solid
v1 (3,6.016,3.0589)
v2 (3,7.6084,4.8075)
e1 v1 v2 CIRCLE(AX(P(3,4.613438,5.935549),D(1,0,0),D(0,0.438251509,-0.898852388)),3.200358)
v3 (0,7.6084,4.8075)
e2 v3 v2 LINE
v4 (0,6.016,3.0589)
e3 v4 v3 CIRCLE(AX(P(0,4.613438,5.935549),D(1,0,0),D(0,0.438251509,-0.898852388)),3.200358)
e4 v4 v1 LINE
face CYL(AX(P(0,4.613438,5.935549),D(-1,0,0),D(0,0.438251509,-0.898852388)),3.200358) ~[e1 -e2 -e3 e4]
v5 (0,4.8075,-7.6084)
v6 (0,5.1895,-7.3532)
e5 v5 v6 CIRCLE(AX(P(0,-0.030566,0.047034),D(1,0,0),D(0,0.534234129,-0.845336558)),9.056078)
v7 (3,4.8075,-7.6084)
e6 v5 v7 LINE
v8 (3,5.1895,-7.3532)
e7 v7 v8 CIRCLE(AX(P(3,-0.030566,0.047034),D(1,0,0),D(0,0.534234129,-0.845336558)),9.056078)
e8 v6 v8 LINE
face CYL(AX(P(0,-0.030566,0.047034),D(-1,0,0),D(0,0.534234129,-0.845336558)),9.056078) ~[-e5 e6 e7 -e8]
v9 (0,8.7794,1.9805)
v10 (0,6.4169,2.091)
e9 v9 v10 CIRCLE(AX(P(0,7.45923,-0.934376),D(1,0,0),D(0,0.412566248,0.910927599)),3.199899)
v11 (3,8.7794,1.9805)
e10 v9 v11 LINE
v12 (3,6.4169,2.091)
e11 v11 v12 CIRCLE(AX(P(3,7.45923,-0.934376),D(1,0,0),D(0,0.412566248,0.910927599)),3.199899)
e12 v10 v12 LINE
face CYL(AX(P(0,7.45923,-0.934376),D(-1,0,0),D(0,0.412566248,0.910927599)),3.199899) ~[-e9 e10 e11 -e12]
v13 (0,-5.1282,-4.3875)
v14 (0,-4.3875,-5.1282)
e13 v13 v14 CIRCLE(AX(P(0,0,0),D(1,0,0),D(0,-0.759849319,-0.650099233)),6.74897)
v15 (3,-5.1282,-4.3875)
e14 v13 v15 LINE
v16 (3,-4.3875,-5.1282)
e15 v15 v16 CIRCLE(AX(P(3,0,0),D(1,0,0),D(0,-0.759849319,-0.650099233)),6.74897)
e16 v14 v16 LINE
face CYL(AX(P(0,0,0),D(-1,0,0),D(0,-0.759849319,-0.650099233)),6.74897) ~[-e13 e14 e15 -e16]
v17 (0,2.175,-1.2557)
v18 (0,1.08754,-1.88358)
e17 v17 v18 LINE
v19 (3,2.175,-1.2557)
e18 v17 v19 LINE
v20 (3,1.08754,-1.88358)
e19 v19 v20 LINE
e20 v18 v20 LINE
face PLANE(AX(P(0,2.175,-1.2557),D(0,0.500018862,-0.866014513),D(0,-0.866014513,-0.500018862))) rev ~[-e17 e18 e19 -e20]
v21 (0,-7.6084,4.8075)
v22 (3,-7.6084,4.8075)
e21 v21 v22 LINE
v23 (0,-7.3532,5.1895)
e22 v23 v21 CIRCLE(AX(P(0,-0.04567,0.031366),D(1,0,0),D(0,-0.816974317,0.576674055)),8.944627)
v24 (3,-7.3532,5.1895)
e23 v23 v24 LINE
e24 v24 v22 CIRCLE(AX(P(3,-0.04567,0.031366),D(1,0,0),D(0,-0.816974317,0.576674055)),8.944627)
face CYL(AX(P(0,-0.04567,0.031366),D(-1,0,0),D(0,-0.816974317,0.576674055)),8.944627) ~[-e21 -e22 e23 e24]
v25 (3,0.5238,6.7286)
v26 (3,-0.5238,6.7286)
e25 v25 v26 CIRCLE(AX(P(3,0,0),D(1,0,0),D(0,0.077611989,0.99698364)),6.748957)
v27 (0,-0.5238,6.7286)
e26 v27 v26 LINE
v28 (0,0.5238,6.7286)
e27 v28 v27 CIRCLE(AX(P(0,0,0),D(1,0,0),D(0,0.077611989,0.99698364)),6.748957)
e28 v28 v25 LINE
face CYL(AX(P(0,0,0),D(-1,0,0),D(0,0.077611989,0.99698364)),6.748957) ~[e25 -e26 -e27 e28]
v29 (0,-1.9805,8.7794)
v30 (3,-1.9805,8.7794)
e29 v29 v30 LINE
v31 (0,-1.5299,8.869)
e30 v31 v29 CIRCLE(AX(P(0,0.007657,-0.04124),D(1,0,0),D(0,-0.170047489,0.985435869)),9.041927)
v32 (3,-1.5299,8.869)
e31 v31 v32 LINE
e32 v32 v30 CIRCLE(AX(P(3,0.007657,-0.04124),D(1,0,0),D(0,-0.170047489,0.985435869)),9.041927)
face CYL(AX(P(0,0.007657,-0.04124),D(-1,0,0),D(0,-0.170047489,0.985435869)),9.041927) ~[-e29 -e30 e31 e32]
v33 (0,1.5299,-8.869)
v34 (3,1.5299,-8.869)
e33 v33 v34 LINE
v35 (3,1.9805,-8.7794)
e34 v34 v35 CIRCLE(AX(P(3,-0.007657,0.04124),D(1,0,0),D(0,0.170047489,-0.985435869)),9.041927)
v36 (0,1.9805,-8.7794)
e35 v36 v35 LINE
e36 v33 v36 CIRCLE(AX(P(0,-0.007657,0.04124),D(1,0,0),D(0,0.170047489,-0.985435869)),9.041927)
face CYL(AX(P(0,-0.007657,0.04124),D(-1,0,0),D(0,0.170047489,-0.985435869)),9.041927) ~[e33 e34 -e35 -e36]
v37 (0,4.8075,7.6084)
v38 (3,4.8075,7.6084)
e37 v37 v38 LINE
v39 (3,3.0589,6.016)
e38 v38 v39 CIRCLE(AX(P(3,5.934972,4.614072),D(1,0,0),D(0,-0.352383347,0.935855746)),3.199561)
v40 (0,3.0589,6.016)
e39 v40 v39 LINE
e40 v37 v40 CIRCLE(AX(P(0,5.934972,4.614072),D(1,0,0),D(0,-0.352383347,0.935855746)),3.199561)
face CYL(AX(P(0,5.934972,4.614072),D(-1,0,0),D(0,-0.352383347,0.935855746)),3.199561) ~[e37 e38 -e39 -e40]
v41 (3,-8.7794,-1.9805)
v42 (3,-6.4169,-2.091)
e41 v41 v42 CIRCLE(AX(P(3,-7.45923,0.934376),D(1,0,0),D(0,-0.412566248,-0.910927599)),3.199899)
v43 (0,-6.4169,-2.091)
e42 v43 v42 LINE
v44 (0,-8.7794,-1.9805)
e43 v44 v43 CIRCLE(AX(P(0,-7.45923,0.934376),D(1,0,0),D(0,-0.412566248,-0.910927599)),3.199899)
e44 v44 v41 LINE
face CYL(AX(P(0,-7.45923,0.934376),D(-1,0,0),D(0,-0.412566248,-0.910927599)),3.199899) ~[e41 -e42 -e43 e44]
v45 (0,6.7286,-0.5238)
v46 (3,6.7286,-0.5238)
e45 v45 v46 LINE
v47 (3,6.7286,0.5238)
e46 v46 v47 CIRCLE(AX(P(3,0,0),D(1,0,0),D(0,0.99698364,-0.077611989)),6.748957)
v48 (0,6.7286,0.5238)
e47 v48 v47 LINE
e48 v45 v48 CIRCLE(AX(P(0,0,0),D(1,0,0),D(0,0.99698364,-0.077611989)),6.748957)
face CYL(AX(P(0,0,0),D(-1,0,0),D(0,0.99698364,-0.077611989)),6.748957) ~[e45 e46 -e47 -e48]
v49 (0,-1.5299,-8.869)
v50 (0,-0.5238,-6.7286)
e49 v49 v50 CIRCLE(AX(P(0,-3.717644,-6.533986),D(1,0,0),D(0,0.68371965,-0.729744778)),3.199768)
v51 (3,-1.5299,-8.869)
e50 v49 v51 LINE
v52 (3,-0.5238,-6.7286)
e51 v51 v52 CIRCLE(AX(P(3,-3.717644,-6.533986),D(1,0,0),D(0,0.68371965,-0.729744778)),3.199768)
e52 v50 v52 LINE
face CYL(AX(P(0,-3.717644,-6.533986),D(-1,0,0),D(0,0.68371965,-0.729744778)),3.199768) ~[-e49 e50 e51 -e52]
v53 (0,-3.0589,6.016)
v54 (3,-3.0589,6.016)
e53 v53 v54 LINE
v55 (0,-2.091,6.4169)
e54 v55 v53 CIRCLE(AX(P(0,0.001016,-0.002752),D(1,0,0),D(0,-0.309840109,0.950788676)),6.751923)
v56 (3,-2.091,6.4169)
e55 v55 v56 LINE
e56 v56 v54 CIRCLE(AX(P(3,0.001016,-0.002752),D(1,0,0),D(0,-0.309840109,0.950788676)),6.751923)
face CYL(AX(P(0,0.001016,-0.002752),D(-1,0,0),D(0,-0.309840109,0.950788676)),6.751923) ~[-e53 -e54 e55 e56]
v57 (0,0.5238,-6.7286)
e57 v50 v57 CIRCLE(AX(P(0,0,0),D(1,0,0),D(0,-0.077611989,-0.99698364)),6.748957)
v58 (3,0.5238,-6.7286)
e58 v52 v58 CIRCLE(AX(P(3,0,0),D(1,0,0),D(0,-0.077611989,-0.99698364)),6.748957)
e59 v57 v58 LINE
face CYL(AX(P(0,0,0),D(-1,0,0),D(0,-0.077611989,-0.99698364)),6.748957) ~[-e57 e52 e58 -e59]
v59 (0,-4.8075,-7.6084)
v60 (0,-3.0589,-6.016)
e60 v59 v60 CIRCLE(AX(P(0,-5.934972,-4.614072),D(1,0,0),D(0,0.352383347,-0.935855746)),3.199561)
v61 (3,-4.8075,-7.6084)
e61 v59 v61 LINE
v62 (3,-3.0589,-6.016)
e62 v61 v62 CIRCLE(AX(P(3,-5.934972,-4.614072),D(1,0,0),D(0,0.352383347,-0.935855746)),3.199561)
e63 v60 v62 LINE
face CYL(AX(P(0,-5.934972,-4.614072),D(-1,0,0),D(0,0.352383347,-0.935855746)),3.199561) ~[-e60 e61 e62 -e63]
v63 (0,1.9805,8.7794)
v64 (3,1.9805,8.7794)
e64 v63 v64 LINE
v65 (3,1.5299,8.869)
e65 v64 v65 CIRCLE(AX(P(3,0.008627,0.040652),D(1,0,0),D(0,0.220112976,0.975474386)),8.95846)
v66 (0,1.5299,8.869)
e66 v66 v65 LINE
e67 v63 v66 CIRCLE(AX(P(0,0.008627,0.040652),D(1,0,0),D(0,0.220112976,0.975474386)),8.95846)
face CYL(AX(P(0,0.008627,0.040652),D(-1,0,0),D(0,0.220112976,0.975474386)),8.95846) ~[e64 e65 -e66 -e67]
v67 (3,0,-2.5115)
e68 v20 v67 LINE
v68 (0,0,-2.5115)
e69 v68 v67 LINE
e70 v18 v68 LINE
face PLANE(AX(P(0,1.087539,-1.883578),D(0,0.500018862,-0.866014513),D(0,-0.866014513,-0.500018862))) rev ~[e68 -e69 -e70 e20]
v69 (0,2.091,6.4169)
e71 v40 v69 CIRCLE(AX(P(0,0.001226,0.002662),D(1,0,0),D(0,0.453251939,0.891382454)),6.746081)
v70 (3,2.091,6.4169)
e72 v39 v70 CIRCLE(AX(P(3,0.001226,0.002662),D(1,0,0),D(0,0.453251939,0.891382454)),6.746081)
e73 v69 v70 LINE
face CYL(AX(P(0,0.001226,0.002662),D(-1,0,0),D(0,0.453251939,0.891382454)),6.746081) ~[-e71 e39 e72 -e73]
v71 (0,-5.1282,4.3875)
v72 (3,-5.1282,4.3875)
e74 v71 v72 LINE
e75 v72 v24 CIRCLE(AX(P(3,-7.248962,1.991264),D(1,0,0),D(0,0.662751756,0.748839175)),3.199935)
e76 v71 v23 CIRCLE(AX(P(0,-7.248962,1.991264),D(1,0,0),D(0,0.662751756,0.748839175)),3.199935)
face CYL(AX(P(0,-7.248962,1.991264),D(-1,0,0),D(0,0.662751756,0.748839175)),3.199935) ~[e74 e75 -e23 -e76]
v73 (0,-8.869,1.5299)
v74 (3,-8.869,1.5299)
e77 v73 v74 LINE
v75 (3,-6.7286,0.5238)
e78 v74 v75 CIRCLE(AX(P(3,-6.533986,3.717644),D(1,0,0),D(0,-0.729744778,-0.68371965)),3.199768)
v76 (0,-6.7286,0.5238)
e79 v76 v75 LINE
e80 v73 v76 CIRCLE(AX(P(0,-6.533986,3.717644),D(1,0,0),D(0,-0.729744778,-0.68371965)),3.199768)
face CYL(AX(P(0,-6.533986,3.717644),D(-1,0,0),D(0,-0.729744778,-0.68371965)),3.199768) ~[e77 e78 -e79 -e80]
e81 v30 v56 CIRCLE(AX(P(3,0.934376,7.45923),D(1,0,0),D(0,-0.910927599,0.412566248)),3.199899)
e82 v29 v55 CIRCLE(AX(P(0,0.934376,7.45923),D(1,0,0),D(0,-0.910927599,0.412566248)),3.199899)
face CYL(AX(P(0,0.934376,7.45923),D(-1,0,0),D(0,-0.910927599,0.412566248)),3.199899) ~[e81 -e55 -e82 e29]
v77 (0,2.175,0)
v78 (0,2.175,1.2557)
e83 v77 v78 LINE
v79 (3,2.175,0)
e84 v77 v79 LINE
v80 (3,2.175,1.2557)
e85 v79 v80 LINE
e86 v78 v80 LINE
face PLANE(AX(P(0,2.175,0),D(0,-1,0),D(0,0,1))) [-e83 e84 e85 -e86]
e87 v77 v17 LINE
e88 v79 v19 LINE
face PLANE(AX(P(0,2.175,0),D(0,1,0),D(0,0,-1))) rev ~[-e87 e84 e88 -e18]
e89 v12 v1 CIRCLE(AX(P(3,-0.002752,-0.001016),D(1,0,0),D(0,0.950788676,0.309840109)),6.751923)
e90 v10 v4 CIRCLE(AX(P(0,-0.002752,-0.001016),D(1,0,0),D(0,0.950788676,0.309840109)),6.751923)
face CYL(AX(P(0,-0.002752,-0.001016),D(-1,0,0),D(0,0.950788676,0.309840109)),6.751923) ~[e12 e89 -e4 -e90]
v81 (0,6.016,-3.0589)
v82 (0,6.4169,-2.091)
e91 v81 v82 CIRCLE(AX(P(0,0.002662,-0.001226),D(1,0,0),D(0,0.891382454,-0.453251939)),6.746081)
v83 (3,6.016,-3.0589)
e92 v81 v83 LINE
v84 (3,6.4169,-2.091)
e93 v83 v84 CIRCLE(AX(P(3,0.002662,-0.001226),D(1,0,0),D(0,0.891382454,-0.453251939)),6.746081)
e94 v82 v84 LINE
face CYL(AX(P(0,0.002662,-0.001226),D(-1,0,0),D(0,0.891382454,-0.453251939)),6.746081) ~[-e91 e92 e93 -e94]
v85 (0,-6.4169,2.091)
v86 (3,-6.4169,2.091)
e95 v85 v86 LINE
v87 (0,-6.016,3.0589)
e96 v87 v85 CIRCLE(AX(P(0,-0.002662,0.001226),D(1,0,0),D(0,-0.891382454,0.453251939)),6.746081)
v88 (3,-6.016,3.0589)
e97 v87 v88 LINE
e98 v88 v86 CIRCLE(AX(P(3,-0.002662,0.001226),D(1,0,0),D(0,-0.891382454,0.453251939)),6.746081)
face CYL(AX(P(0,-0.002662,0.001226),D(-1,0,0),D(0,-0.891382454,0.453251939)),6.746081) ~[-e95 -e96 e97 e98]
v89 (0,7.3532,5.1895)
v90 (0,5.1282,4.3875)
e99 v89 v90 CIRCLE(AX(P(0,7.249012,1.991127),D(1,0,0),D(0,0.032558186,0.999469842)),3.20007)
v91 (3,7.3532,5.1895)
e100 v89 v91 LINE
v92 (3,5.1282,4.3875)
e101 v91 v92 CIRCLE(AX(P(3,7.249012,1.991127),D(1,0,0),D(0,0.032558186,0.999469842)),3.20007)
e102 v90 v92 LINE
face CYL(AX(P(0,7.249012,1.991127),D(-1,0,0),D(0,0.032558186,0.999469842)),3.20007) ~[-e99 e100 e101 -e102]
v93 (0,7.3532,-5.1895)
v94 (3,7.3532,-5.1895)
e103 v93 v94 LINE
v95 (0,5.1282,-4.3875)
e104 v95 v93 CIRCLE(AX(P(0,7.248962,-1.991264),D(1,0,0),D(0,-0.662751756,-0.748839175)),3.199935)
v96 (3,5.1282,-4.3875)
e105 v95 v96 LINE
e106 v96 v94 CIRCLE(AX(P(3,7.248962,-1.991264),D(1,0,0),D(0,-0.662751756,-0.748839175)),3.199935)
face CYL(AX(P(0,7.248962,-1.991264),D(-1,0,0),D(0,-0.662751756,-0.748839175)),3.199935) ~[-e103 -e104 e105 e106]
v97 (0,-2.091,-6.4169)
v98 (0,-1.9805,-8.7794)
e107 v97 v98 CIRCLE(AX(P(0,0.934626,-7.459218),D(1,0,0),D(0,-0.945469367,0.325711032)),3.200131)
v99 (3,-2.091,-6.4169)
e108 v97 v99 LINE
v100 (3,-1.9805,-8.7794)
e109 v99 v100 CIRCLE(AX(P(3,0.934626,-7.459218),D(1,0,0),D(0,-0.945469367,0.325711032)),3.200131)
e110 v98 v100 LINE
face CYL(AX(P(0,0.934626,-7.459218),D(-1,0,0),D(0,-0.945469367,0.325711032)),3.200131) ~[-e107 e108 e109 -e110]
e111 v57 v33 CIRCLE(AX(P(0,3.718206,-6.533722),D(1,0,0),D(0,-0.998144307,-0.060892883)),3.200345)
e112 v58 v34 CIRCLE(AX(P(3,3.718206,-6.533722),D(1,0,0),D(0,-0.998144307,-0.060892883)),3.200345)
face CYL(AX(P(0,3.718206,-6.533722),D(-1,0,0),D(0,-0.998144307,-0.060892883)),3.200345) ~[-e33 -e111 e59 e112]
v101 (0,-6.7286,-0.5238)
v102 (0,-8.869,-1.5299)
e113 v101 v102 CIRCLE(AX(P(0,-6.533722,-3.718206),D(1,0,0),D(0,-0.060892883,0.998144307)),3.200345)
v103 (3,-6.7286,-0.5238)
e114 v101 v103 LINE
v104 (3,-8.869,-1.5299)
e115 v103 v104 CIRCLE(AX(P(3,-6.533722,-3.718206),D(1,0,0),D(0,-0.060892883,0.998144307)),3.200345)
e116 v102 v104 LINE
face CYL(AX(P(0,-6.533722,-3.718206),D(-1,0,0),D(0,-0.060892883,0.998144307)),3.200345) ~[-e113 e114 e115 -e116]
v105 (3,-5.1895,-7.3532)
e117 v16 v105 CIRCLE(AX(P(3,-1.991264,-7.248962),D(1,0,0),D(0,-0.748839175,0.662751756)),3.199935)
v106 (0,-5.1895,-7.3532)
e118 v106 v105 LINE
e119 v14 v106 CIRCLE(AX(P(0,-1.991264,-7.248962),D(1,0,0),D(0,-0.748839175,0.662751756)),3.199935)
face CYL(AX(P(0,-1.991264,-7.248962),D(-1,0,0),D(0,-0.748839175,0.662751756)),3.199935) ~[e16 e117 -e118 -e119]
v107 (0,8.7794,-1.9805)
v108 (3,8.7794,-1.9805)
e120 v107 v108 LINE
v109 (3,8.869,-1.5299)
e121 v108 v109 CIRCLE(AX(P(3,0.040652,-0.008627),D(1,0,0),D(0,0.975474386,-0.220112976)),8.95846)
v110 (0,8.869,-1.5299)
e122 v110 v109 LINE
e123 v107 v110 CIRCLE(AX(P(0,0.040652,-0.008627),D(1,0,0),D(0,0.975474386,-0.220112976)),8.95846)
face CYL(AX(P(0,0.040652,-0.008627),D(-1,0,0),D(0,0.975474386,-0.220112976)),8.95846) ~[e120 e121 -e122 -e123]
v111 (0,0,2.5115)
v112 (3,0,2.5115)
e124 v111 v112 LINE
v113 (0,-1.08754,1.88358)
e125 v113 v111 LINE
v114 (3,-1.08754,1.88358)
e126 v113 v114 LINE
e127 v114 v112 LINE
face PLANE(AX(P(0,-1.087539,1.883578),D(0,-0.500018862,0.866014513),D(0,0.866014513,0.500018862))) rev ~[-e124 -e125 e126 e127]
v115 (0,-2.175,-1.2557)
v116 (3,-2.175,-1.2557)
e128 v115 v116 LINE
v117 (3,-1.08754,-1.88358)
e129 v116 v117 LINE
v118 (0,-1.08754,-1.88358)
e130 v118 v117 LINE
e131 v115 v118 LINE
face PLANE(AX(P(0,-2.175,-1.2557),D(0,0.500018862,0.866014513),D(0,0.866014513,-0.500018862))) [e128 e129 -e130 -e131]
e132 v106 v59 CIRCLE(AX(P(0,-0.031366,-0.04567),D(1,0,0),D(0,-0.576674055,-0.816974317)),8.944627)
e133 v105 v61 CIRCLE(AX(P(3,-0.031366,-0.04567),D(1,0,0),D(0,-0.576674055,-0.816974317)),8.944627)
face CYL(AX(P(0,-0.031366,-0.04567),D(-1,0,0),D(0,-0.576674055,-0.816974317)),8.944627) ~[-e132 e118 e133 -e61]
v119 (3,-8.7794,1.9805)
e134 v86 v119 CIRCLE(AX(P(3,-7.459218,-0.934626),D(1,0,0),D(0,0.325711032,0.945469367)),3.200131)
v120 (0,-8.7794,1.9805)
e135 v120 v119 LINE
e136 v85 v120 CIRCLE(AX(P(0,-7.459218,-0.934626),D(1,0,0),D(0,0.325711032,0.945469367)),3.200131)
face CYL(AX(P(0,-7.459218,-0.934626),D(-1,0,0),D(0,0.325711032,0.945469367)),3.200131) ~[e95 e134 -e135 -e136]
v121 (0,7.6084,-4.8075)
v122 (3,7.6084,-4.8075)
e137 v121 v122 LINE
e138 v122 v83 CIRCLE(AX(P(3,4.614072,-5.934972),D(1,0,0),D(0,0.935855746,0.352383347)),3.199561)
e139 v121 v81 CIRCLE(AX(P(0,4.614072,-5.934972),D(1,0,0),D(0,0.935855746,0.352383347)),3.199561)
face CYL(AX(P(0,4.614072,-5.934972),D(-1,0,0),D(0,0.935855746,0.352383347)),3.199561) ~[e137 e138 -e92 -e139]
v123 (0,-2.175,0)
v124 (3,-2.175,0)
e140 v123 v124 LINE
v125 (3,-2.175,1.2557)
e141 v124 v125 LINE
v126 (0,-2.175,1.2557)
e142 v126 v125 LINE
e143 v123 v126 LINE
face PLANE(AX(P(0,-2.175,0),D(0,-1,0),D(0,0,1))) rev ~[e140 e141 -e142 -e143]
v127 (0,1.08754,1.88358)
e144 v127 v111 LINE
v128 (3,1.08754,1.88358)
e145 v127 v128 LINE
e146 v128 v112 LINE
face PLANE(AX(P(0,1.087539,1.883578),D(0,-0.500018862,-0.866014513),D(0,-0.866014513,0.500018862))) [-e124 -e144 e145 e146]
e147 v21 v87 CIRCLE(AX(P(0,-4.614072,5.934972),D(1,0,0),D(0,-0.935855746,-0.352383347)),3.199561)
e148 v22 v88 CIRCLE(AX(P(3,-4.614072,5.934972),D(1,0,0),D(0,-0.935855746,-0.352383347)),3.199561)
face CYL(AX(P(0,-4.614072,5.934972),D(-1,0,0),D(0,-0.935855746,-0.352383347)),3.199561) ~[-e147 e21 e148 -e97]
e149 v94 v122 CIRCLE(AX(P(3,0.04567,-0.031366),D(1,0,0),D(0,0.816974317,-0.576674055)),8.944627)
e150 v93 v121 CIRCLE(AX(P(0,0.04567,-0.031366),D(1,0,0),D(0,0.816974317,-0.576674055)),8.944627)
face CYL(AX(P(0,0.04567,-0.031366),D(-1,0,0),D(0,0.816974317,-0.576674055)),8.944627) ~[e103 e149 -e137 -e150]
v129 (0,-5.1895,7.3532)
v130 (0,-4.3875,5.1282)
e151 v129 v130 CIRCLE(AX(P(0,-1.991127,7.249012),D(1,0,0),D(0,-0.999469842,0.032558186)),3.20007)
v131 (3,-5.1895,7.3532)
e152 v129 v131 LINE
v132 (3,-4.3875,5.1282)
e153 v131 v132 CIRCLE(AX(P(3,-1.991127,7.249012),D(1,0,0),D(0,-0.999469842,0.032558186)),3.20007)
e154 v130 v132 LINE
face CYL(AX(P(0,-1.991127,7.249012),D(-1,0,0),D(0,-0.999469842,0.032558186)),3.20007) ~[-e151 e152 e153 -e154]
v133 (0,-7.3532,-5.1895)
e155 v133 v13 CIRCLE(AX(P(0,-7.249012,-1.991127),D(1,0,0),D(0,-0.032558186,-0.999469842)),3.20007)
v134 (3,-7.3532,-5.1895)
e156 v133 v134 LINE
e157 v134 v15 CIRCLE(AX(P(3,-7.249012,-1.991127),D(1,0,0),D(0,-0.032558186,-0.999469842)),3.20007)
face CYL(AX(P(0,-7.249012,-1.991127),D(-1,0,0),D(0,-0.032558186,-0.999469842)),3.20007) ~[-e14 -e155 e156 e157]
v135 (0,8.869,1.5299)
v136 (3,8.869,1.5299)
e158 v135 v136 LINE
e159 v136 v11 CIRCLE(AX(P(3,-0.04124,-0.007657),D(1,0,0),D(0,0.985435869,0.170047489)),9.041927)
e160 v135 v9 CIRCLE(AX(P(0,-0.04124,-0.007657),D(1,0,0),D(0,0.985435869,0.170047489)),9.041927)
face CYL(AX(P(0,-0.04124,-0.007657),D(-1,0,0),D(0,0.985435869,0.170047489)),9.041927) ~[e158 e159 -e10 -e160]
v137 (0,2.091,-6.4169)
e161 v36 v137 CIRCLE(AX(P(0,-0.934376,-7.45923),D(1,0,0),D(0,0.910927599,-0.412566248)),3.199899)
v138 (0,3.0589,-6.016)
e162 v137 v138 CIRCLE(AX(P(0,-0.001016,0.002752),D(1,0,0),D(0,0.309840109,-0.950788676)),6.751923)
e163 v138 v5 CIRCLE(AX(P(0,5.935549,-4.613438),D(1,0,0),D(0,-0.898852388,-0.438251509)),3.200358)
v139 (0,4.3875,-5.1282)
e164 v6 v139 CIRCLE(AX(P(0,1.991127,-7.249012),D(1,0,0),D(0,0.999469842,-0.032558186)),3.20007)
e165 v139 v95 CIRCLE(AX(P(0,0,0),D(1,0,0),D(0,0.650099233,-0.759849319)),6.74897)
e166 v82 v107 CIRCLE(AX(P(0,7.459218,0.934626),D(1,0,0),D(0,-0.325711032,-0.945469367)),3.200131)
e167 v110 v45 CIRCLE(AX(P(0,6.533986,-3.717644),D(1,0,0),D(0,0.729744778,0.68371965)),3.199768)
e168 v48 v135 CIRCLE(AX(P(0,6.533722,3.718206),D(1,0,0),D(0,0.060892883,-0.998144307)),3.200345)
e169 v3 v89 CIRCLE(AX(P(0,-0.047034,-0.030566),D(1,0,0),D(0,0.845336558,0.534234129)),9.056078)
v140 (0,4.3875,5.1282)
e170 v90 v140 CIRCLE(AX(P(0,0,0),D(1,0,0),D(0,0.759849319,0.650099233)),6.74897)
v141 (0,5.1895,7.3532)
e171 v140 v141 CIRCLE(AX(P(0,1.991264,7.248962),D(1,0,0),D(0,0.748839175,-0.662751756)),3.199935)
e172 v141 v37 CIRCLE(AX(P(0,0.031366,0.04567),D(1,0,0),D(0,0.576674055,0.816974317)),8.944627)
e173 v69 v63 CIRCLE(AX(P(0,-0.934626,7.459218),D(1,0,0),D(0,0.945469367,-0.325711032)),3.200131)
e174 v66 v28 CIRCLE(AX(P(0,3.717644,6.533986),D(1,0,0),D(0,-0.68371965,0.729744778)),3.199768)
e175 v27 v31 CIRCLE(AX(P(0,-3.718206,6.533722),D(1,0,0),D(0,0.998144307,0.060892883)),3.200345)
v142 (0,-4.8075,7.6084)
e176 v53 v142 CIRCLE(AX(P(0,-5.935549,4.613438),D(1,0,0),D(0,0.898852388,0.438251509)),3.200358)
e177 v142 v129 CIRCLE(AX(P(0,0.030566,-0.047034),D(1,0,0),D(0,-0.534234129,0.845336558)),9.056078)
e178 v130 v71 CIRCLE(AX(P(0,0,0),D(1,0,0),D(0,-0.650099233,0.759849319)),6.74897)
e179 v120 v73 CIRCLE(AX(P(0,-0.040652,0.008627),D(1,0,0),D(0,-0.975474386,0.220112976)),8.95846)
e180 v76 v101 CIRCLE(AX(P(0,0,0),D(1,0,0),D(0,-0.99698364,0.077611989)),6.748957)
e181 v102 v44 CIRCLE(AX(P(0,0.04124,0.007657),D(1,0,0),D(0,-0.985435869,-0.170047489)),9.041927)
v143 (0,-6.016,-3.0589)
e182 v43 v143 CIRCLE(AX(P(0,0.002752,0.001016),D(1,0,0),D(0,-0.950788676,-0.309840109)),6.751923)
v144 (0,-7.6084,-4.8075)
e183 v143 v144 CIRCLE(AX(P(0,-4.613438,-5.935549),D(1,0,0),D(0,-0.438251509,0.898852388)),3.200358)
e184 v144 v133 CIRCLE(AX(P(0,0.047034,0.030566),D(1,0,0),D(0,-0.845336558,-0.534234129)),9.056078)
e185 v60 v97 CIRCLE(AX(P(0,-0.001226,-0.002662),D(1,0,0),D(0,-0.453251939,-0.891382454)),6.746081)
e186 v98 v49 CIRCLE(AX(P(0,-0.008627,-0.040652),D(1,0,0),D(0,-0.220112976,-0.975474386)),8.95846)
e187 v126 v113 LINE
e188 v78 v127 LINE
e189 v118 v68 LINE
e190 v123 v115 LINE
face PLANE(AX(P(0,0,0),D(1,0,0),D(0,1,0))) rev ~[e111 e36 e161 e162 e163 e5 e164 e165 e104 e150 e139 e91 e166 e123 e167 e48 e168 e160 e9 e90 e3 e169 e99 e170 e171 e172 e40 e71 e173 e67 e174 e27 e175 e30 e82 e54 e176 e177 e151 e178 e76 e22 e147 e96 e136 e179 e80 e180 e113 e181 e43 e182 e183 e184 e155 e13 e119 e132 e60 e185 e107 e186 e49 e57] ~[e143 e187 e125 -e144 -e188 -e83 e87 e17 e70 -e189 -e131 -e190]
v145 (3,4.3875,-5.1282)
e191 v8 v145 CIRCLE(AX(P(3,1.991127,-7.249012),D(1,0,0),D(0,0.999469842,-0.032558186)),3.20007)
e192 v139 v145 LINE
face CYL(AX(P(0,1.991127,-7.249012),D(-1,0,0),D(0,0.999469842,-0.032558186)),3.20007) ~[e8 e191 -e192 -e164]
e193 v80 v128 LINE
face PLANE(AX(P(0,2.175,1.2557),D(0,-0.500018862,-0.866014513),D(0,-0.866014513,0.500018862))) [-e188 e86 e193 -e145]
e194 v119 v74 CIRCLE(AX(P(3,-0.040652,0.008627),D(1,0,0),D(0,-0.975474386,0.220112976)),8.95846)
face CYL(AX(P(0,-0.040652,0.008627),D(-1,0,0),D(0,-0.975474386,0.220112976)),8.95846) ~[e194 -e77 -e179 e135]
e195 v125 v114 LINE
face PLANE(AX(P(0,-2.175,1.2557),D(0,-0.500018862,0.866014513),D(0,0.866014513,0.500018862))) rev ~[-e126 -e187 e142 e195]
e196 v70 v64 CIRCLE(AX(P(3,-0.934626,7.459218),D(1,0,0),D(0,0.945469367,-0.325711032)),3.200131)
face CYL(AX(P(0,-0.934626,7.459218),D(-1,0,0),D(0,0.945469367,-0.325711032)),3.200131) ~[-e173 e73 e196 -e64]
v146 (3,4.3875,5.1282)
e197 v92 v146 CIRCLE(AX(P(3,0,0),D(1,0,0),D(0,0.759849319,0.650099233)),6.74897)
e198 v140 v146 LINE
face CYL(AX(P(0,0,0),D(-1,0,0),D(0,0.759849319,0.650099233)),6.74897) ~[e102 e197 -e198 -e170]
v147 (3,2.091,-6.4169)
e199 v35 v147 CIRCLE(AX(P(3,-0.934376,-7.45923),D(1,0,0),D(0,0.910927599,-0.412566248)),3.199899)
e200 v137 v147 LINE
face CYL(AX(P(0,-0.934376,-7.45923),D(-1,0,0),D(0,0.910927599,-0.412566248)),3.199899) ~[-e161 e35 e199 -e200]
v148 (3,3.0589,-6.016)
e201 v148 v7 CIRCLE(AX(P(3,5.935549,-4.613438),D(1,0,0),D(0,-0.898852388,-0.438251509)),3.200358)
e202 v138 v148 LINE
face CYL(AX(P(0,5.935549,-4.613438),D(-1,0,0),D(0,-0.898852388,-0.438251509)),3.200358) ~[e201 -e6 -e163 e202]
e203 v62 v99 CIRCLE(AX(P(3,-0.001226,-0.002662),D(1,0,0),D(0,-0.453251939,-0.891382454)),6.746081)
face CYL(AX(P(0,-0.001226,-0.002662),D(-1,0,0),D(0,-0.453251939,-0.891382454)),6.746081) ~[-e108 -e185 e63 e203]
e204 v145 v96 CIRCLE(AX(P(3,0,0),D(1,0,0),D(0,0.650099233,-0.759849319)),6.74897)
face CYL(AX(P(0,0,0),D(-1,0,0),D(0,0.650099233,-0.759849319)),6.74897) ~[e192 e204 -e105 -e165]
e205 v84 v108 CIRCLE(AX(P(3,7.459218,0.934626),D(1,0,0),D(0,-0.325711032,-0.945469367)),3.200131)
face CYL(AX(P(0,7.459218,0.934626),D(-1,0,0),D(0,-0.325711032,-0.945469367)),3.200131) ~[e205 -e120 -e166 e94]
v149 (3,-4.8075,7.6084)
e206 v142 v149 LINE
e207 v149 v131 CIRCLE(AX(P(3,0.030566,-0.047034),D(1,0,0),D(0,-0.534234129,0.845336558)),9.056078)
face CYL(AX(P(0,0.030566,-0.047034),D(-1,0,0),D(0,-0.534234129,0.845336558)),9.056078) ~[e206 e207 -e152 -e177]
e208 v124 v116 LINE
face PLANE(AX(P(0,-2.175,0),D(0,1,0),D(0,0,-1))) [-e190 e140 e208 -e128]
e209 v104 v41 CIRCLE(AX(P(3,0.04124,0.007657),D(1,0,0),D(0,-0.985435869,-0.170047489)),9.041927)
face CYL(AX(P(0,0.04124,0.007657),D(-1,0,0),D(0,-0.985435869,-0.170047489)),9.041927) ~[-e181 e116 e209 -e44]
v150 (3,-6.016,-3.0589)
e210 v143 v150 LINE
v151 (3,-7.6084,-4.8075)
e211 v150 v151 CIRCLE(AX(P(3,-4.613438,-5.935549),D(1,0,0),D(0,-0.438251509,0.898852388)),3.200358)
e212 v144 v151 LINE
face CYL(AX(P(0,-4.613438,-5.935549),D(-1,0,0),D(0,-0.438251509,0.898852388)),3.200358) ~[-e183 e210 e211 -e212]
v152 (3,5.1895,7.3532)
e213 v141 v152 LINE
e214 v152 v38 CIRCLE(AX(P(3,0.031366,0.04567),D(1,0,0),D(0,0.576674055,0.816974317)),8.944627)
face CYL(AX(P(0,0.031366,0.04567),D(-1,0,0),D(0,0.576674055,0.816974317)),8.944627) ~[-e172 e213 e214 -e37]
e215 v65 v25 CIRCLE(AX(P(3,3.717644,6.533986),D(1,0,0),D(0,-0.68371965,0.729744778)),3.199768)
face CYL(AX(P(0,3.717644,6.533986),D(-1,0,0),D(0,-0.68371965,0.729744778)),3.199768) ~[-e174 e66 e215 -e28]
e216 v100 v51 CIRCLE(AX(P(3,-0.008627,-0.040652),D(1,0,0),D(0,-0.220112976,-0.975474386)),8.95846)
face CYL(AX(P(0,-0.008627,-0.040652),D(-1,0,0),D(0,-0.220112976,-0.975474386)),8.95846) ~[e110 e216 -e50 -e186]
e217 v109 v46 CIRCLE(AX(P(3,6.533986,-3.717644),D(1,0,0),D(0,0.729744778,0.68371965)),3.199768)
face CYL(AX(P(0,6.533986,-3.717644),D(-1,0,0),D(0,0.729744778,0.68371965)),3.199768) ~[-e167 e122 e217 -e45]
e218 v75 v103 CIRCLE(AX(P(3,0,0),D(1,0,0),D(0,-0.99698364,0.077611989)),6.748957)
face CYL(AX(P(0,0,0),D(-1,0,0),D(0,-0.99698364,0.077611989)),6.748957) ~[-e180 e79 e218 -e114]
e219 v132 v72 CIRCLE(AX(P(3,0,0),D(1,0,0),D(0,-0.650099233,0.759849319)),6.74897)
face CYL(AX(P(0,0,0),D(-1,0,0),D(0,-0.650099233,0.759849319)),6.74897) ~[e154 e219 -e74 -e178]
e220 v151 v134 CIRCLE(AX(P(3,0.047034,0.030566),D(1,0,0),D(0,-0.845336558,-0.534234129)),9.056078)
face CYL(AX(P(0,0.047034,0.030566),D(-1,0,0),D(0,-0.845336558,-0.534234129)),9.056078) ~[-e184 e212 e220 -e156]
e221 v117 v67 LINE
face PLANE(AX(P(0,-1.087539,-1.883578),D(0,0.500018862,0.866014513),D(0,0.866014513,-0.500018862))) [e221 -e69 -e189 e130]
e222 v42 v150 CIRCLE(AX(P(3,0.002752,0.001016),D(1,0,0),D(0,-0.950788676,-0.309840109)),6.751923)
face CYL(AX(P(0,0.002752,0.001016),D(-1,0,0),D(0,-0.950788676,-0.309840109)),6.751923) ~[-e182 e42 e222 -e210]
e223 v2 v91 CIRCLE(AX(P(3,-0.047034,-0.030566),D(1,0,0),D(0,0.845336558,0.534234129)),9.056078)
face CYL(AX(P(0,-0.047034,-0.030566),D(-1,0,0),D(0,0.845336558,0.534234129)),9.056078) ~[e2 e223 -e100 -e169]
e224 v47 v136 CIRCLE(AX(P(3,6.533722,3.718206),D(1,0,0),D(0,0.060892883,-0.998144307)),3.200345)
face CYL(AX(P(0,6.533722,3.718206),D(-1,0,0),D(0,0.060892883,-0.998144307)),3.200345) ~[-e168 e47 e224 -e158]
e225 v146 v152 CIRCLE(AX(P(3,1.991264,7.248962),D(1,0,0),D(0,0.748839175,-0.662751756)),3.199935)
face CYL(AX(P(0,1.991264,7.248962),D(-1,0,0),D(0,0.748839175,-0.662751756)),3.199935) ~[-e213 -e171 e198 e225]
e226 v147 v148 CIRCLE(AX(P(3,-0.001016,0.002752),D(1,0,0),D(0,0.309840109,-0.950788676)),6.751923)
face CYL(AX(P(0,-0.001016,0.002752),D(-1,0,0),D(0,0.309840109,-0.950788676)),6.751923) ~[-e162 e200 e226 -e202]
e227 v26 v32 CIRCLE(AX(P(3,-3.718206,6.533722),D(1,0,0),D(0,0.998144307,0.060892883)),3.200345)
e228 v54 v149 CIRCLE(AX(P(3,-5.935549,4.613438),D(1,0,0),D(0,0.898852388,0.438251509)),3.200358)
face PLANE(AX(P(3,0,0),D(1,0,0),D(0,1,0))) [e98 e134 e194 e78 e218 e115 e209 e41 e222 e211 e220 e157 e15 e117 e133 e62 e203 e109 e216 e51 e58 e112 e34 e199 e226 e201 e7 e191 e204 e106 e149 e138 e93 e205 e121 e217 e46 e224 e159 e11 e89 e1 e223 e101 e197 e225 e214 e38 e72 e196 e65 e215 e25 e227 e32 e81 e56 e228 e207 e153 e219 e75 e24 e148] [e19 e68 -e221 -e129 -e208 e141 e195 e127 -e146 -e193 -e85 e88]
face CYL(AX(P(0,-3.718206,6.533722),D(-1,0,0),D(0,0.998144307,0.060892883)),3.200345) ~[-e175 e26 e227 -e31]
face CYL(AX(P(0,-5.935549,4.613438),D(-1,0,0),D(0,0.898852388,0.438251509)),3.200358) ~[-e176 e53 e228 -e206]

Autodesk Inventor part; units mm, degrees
ref_plane "YZ Plane" through (0, 0, 0) normal (1, 0, 0) x (0, 1, 0)
ref_plane "XZ Plane" through (0, 0, 0) normal (0, 1, 0) x (-1, 0, 0)
ref_plane "XY Plane" through (0, 0, 0) normal (0, 0, 1) x (1, 0, 0)
sketch "Sketch1" plane through (0, 0, 0) normal (1, 0, 0) x (0, 1, 0)
  arc A0 (-4.3875, 5.1282) -> (-5.1282, 4.3875) centre (0, 0) ccw
  arc A1 (-5.1895, 7.3532) -> (-4.3875, 5.1282) centre (-1.9912, 7.249) ccw
  arc A2 (-3.0589, 6.016) -> (-4.8075, 7.6084) centre (-5.9352, 4.6137) ccw
  arc A3 (-4.8075, 7.6084) -> (-5.1895, 7.3532) centre (0, 0) ccw
  arc A4 (-2.091, 6.4169) -> (-3.0589, 6.016) centre (0, 0) ccw
  arc A5 (-1.9805, 8.7794) -> (-2.091, 6.4169) centre (0.9345, 7.4592) ccw
  arc A6 (-1.5299, 8.869) -> (-1.9805, 8.7794) centre (0, 0) ccw
  arc A7 (-0.5238, 6.7286) -> (-1.5299, 8.869) centre (-3.7179, 6.5338) ccw
  arc A8 (0.5238, 6.7286) -> (-0.5238, 6.7286) centre (0, 0) ccw
  arc A9 (1.5299, 8.869) -> (0.5238, 6.7286) centre (3.7179, 6.5338) ccw
  arc A10 (1.9805, 8.7794) -> (1.5299, 8.869) centre (0, 0) ccw
  arc A11 (2.091, 6.4169) -> (1.9805, 8.7794) centre (-0.9345, 7.4592) ccw
  arc A12 (3.0589, 6.016) -> (2.091, 6.4169) centre (0, 0) ccw
  arc A13 (4.8075, 7.6084) -> (3.0589, 6.016) centre (5.9352, 4.6137) ccw
  arc A14 (5.1895, 7.3532) -> (4.8075, 7.6084) centre (0, 0) ccw
  arc A15 (4.3875, 5.1282) -> (5.1895, 7.3532) centre (1.9912, 7.249) ccw
  arc A16 (5.1282, 4.3875) -> (4.3875, 5.1282) centre (0, 0) ccw
  arc A17 (7.3532, 5.1895) -> (5.1282, 4.3875) centre (7.249, 1.9912) ccw
  arc A18 (7.6084, 4.8075) -> (7.3532, 5.1895) centre (0, 0) ccw
  arc A19 (6.016, 3.0589) -> (7.6084, 4.8075) centre (4.6137, 5.9352) ccw
  arc A20 (6.4169, 2.091) -> (6.016, 3.0589) centre (0, 0) ccw
  arc A21 (8.7794, 1.9805) -> (6.4169, 2.091) centre (7.4592, -0.9345) ccw
  arc A22 (8.869, 1.5299) -> (8.7794, 1.9805) centre (0, 0) ccw
  arc A23 (6.7286, 0.5238) -> (8.869, 1.5299) centre (6.5338, 3.7179) ccw
  arc A24 (6.7286, -0.5238) -> (6.7286, 0.5238) centre (0, 0) ccw
  arc A25 (8.869, -1.5299) -> (6.7286, -0.5238) centre (6.5338, -3.7179) ccw
  arc A26 (8.7794, -1.9805) -> (8.869, -1.5299) centre (0, 0) ccw
  arc A27 (6.4169, -2.091) -> (8.7794, -1.9805) centre (7.4592, 0.9345) ccw
  arc A28 (6.016, -3.0589) -> (6.4169, -2.091) centre (0, 0) ccw
  arc A29 (7.6084, -4.8075) -> (6.016, -3.0589) centre (4.6137, -5.9352) ccw
  arc A30 (7.3532, -5.1895) -> (7.6084, -4.8075) centre (0, 0) ccw
  arc A31 (5.1282, -4.3875) -> (7.3532, -5.1895) centre (7.249, -1.9912) ccw
  arc A32 (4.3875, -5.1282) -> (5.1282, -4.3875) centre (0, 0) ccw
  arc A33 (5.1895, -7.3532) -> (4.3875, -5.1282) centre (1.9912, -7.249) ccw
  arc A34 (4.8075, -7.6084) -> (5.1895, -7.3532) centre (0, 0) ccw
  arc A35 (3.0589, -6.016) -> (4.8075, -7.6084) centre (5.9352, -4.6137) ccw
  arc A36 (-8.869, 1.5299) -> (-6.7286, 0.5238) centre (-6.5338, 3.7179) ccw
  arc A37 (-6.7286, 0.5238) -> (-6.7286, -0.5238) centre (0, 0) ccw
  arc A38 (-6.7286, -0.5238) -> (-8.869, -1.5299) centre (-6.5338, -3.7179) ccw
  arc A39 (-8.869, -1.5299) -> (-8.7794, -1.9805) centre (0, 0) ccw
  arc A40 (-8.7794, -1.9805) -> (-6.4169, -2.091) centre (-7.4592, 0.9345) ccw
  arc A41 (-6.4169, -2.091) -> (-6.016, -3.0589) centre (0, 0) ccw
  arc A42 (-6.016, -3.0589) -> (-7.6084, -4.8075) centre (-4.6137, -5.9352) ccw
  arc A43 (-7.6084, -4.8075) -> (-7.3532, -5.1895) centre (0, 0) ccw
  arc A44 (-7.3532, -5.1895) -> (-5.1282, -4.3875) centre (-7.249, -1.9912) ccw
  arc A45 (-5.1282, -4.3875) -> (-4.3875, -5.1282) centre (0, 0) ccw
  arc A46 (-4.3875, -5.1282) -> (-5.1895, -7.3532) centre (-1.9912, -7.249) ccw
  arc A47 (-5.1895, -7.3532) -> (-4.8075, -7.6084) centre (0, 0) ccw
  arc A48 (-4.8075, -7.6084) -> (-3.0589, -6.016) centre (-5.9352, -4.6137) ccw
  arc A49 (-3.0589, -6.016) -> (-2.091, -6.4169) centre (0, 0) ccw
  arc A50 (-2.091, -6.4169) -> (-1.9805, -8.7794) centre (0.9345, -7.4592) ccw
  arc A51 (-1.9805, -8.7794) -> (-1.5299, -8.869) centre (0, 0) ccw
  arc A52 (-1.5299, -8.869) -> (-0.5238, -6.7286) centre (-3.7179, -6.5338) ccw
  arc A53 (-0.5238, -6.7286) -> (0.5238, -6.7286) centre (0, 0) ccw
  arc A54 (0.5238, -6.7286) -> (1.5299, -8.869) centre (3.7179, -6.5338) ccw
  arc A55 (1.5299, -8.869) -> (1.9805, -8.7794) centre (0, 0) ccw
  arc A56 (1.9805, -8.7794) -> (2.091, -6.4169) centre (-0.9345, -7.4592) ccw
  arc A57 (2.091, -6.4169) -> (3.0589, -6.016) centre (0, 0) ccw
  arc A58 (3.0589, -6.016) -> (4.8075, -7.6084) centre (5.9352, -4.6137) ccw
  arc A59 (4.8075, -7.6084) -> (5.1895, -7.3532) centre (0, 0) ccw
  arc A60 (5.1895, -7.3532) -> (4.3875, -5.1282) centre (1.9912, -7.249) ccw
  arc A61 (4.3875, -5.1282) -> (5.1282, -4.3875) centre (0, 0) ccw
  arc A62 (5.1282, -4.3875) -> (7.3532, -5.1895) centre (7.249, -1.9912) ccw
  arc A63 (7.3532, -5.1895) -> (7.6084, -4.8075) centre (0, 0) ccw
  arc A64 (7.6084, -4.8075) -> (6.016, -3.0589) centre (4.6137, -5.9352) ccw
  arc A65 (6.016, -3.0589) -> (6.4169, -2.091) centre (0, 0) ccw
  arc A66 (6.4169, -2.091) -> (8.7794, -1.9805) centre (7.4592, 0.9345) ccw
  arc A67 (8.7794, -1.9805) -> (8.869, -1.5299) centre (0, 0) ccw
  arc A68 (8.869, -1.5299) -> (6.7286, -0.5238) centre (6.5338, -3.7179) ccw
  arc A69 (6.7286, -0.5238) -> (6.7286, 0.5238) centre (0, 0) ccw
  arc A70 (6.7286, 0.5238) -> (8.869, 1.5299) centre (6.5338, 3.7179) ccw
  arc A71 (8.869, 1.5299) -> (8.7794, 1.9805) centre (0, 0) ccw
  arc A72 (8.7794, 1.9805) -> (6.4169, 2.091) centre (7.4592, -0.9345) ccw
  arc A73 (6.4169, 2.091) -> (6.016, 3.0589) centre (0, 0) ccw
  arc A74 (6.016, 3.0589) -> (7.6084, 4.8075) centre (4.6137, 5.9352) ccw
  arc A75 (7.6084, 4.8075) -> (7.3532, 5.1895) centre (0, 0) ccw
  arc A76 (7.3532, 5.1895) -> (5.1282, 4.3875) centre (7.249, 1.9912) ccw
  arc A77 (5.1282, 4.3875) -> (4.3875, 5.1282) centre (0, 0) ccw
  arc A78 (4.3875, 5.1282) -> (5.1895, 7.3532) centre (1.9912, 7.249) ccw
  arc A79 (5.1895, 7.3532) -> (4.8075, 7.6084) centre (0, 0) ccw
  arc A80 (4.8075, 7.6084) -> (3.0589, 6.016) centre (5.9352, 4.6137) ccw
  arc A81 (3.0589, 6.016) -> (2.091, 6.4169) centre (0, 0) ccw
  arc A82 (2.091, 6.4169) -> (1.9805, 8.7794) centre (-0.9345, 7.4592) ccw
  arc A83 (1.9805, 8.7794) -> (1.5299, 8.869) centre (0, 0) ccw
  arc A84 (1.5299, 8.869) -> (0.5238, 6.7286) centre (3.7179, 6.5338) ccw
  arc A85 (0.5238, 6.7286) -> (-0.5238, 6.7286) centre (0, 0) ccw
  arc A86 (-0.5238, 6.7286) -> (-1.5299, 8.869) centre (-3.7179, 6.5338) ccw
  arc A87 (-1.5299, 8.869) -> (-1.9805, 8.7794) centre (0, 0) ccw
  arc A88 (-1.9805, 8.7794) -> (-2.091, 6.4169) centre (0.9345, 7.4592) ccw
  arc A89 (-2.091, 6.4169) -> (-3.0589, 6.016) centre (0, 0) ccw
  arc A90 (-3.0589, 6.016) -> (-4.8075, 7.6084) centre (-5.9352, 4.6137) ccw
  arc A91 (-4.8075, 7.6084) -> (-5.1895, 7.3532) centre (0, 0) ccw
  arc A92 (-5.1895, 7.3532) -> (-4.3875, 5.1282) centre (-1.9912, 7.249) ccw
  arc A93 (-4.3875, 5.1282) -> (-5.1282, 4.3875) centre (0, 0) ccw
  arc A94 (-5.1282, 4.3875) -> (-7.3532, 5.1895) centre (-7.249, 1.9912) ccw
  arc A95 (-7.3532, 5.1895) -> (-7.6084, 4.8075) centre (0, 0) ccw
  arc A96 (-7.6084, 4.8075) -> (-6.016, 3.0589) centre (-4.6137, 5.9352) ccw
  arc A97 (-6.016, 3.0589) -> (-6.4169, 2.091) centre (0, 0) ccw
  arc A98 (-6.4169, 2.091) -> (-8.7794, 1.9805) centre (-7.4592, -0.9345) ccw
  arc A99 (-8.7794, 1.9805) -> (-8.869, 1.5299) centre (0, 0) ccw
  circle A100 centre (0, 0) radius 2.175
  line L0 (0, 0) -> (2.175, 0)
  line L1 (2.175, 0) -> (2.175, -1.2557)
  line L2 (2.175, -1.2557) -> (0, -2.5115)
  line L3 (-1.5245, 0) -> (0, 0)
  line L4 (0, 0) -> (0, -2.5115)
  line L5 (-2.175, 0) -> (-2.175, -1.2557)
  line L6 (-2.175, -1.2557) -> (0, -2.5115)
  line L7 (2.175, 0) -> (2.175, 1.2557)
  line L8 (2.175, 1.2557) -> (0, 2.5115)
  line L9 (-2.175, 0) -> (-2.175, 1.2557)
  line L10 (-2.175, 1.2557) -> (0, 2.5115)
  point P0 (0, -0.8741)
  point P1 (3.0589, -6.016)
  point P2 (-5.1282, 4.3875)
  point P3 (1.0875, -1.8836)
  point P4 (2.175, -0.6279)
  dimension "d14" = 120
  dimension "d17" = 4.35
extrude "Extrusion1" add sketch "Sketch1" along normal blind 3
equation "\"d17\" = d_agu"
equation "\"d_agu\" = 4.35"
properties part number "EngraneMod_v2"
